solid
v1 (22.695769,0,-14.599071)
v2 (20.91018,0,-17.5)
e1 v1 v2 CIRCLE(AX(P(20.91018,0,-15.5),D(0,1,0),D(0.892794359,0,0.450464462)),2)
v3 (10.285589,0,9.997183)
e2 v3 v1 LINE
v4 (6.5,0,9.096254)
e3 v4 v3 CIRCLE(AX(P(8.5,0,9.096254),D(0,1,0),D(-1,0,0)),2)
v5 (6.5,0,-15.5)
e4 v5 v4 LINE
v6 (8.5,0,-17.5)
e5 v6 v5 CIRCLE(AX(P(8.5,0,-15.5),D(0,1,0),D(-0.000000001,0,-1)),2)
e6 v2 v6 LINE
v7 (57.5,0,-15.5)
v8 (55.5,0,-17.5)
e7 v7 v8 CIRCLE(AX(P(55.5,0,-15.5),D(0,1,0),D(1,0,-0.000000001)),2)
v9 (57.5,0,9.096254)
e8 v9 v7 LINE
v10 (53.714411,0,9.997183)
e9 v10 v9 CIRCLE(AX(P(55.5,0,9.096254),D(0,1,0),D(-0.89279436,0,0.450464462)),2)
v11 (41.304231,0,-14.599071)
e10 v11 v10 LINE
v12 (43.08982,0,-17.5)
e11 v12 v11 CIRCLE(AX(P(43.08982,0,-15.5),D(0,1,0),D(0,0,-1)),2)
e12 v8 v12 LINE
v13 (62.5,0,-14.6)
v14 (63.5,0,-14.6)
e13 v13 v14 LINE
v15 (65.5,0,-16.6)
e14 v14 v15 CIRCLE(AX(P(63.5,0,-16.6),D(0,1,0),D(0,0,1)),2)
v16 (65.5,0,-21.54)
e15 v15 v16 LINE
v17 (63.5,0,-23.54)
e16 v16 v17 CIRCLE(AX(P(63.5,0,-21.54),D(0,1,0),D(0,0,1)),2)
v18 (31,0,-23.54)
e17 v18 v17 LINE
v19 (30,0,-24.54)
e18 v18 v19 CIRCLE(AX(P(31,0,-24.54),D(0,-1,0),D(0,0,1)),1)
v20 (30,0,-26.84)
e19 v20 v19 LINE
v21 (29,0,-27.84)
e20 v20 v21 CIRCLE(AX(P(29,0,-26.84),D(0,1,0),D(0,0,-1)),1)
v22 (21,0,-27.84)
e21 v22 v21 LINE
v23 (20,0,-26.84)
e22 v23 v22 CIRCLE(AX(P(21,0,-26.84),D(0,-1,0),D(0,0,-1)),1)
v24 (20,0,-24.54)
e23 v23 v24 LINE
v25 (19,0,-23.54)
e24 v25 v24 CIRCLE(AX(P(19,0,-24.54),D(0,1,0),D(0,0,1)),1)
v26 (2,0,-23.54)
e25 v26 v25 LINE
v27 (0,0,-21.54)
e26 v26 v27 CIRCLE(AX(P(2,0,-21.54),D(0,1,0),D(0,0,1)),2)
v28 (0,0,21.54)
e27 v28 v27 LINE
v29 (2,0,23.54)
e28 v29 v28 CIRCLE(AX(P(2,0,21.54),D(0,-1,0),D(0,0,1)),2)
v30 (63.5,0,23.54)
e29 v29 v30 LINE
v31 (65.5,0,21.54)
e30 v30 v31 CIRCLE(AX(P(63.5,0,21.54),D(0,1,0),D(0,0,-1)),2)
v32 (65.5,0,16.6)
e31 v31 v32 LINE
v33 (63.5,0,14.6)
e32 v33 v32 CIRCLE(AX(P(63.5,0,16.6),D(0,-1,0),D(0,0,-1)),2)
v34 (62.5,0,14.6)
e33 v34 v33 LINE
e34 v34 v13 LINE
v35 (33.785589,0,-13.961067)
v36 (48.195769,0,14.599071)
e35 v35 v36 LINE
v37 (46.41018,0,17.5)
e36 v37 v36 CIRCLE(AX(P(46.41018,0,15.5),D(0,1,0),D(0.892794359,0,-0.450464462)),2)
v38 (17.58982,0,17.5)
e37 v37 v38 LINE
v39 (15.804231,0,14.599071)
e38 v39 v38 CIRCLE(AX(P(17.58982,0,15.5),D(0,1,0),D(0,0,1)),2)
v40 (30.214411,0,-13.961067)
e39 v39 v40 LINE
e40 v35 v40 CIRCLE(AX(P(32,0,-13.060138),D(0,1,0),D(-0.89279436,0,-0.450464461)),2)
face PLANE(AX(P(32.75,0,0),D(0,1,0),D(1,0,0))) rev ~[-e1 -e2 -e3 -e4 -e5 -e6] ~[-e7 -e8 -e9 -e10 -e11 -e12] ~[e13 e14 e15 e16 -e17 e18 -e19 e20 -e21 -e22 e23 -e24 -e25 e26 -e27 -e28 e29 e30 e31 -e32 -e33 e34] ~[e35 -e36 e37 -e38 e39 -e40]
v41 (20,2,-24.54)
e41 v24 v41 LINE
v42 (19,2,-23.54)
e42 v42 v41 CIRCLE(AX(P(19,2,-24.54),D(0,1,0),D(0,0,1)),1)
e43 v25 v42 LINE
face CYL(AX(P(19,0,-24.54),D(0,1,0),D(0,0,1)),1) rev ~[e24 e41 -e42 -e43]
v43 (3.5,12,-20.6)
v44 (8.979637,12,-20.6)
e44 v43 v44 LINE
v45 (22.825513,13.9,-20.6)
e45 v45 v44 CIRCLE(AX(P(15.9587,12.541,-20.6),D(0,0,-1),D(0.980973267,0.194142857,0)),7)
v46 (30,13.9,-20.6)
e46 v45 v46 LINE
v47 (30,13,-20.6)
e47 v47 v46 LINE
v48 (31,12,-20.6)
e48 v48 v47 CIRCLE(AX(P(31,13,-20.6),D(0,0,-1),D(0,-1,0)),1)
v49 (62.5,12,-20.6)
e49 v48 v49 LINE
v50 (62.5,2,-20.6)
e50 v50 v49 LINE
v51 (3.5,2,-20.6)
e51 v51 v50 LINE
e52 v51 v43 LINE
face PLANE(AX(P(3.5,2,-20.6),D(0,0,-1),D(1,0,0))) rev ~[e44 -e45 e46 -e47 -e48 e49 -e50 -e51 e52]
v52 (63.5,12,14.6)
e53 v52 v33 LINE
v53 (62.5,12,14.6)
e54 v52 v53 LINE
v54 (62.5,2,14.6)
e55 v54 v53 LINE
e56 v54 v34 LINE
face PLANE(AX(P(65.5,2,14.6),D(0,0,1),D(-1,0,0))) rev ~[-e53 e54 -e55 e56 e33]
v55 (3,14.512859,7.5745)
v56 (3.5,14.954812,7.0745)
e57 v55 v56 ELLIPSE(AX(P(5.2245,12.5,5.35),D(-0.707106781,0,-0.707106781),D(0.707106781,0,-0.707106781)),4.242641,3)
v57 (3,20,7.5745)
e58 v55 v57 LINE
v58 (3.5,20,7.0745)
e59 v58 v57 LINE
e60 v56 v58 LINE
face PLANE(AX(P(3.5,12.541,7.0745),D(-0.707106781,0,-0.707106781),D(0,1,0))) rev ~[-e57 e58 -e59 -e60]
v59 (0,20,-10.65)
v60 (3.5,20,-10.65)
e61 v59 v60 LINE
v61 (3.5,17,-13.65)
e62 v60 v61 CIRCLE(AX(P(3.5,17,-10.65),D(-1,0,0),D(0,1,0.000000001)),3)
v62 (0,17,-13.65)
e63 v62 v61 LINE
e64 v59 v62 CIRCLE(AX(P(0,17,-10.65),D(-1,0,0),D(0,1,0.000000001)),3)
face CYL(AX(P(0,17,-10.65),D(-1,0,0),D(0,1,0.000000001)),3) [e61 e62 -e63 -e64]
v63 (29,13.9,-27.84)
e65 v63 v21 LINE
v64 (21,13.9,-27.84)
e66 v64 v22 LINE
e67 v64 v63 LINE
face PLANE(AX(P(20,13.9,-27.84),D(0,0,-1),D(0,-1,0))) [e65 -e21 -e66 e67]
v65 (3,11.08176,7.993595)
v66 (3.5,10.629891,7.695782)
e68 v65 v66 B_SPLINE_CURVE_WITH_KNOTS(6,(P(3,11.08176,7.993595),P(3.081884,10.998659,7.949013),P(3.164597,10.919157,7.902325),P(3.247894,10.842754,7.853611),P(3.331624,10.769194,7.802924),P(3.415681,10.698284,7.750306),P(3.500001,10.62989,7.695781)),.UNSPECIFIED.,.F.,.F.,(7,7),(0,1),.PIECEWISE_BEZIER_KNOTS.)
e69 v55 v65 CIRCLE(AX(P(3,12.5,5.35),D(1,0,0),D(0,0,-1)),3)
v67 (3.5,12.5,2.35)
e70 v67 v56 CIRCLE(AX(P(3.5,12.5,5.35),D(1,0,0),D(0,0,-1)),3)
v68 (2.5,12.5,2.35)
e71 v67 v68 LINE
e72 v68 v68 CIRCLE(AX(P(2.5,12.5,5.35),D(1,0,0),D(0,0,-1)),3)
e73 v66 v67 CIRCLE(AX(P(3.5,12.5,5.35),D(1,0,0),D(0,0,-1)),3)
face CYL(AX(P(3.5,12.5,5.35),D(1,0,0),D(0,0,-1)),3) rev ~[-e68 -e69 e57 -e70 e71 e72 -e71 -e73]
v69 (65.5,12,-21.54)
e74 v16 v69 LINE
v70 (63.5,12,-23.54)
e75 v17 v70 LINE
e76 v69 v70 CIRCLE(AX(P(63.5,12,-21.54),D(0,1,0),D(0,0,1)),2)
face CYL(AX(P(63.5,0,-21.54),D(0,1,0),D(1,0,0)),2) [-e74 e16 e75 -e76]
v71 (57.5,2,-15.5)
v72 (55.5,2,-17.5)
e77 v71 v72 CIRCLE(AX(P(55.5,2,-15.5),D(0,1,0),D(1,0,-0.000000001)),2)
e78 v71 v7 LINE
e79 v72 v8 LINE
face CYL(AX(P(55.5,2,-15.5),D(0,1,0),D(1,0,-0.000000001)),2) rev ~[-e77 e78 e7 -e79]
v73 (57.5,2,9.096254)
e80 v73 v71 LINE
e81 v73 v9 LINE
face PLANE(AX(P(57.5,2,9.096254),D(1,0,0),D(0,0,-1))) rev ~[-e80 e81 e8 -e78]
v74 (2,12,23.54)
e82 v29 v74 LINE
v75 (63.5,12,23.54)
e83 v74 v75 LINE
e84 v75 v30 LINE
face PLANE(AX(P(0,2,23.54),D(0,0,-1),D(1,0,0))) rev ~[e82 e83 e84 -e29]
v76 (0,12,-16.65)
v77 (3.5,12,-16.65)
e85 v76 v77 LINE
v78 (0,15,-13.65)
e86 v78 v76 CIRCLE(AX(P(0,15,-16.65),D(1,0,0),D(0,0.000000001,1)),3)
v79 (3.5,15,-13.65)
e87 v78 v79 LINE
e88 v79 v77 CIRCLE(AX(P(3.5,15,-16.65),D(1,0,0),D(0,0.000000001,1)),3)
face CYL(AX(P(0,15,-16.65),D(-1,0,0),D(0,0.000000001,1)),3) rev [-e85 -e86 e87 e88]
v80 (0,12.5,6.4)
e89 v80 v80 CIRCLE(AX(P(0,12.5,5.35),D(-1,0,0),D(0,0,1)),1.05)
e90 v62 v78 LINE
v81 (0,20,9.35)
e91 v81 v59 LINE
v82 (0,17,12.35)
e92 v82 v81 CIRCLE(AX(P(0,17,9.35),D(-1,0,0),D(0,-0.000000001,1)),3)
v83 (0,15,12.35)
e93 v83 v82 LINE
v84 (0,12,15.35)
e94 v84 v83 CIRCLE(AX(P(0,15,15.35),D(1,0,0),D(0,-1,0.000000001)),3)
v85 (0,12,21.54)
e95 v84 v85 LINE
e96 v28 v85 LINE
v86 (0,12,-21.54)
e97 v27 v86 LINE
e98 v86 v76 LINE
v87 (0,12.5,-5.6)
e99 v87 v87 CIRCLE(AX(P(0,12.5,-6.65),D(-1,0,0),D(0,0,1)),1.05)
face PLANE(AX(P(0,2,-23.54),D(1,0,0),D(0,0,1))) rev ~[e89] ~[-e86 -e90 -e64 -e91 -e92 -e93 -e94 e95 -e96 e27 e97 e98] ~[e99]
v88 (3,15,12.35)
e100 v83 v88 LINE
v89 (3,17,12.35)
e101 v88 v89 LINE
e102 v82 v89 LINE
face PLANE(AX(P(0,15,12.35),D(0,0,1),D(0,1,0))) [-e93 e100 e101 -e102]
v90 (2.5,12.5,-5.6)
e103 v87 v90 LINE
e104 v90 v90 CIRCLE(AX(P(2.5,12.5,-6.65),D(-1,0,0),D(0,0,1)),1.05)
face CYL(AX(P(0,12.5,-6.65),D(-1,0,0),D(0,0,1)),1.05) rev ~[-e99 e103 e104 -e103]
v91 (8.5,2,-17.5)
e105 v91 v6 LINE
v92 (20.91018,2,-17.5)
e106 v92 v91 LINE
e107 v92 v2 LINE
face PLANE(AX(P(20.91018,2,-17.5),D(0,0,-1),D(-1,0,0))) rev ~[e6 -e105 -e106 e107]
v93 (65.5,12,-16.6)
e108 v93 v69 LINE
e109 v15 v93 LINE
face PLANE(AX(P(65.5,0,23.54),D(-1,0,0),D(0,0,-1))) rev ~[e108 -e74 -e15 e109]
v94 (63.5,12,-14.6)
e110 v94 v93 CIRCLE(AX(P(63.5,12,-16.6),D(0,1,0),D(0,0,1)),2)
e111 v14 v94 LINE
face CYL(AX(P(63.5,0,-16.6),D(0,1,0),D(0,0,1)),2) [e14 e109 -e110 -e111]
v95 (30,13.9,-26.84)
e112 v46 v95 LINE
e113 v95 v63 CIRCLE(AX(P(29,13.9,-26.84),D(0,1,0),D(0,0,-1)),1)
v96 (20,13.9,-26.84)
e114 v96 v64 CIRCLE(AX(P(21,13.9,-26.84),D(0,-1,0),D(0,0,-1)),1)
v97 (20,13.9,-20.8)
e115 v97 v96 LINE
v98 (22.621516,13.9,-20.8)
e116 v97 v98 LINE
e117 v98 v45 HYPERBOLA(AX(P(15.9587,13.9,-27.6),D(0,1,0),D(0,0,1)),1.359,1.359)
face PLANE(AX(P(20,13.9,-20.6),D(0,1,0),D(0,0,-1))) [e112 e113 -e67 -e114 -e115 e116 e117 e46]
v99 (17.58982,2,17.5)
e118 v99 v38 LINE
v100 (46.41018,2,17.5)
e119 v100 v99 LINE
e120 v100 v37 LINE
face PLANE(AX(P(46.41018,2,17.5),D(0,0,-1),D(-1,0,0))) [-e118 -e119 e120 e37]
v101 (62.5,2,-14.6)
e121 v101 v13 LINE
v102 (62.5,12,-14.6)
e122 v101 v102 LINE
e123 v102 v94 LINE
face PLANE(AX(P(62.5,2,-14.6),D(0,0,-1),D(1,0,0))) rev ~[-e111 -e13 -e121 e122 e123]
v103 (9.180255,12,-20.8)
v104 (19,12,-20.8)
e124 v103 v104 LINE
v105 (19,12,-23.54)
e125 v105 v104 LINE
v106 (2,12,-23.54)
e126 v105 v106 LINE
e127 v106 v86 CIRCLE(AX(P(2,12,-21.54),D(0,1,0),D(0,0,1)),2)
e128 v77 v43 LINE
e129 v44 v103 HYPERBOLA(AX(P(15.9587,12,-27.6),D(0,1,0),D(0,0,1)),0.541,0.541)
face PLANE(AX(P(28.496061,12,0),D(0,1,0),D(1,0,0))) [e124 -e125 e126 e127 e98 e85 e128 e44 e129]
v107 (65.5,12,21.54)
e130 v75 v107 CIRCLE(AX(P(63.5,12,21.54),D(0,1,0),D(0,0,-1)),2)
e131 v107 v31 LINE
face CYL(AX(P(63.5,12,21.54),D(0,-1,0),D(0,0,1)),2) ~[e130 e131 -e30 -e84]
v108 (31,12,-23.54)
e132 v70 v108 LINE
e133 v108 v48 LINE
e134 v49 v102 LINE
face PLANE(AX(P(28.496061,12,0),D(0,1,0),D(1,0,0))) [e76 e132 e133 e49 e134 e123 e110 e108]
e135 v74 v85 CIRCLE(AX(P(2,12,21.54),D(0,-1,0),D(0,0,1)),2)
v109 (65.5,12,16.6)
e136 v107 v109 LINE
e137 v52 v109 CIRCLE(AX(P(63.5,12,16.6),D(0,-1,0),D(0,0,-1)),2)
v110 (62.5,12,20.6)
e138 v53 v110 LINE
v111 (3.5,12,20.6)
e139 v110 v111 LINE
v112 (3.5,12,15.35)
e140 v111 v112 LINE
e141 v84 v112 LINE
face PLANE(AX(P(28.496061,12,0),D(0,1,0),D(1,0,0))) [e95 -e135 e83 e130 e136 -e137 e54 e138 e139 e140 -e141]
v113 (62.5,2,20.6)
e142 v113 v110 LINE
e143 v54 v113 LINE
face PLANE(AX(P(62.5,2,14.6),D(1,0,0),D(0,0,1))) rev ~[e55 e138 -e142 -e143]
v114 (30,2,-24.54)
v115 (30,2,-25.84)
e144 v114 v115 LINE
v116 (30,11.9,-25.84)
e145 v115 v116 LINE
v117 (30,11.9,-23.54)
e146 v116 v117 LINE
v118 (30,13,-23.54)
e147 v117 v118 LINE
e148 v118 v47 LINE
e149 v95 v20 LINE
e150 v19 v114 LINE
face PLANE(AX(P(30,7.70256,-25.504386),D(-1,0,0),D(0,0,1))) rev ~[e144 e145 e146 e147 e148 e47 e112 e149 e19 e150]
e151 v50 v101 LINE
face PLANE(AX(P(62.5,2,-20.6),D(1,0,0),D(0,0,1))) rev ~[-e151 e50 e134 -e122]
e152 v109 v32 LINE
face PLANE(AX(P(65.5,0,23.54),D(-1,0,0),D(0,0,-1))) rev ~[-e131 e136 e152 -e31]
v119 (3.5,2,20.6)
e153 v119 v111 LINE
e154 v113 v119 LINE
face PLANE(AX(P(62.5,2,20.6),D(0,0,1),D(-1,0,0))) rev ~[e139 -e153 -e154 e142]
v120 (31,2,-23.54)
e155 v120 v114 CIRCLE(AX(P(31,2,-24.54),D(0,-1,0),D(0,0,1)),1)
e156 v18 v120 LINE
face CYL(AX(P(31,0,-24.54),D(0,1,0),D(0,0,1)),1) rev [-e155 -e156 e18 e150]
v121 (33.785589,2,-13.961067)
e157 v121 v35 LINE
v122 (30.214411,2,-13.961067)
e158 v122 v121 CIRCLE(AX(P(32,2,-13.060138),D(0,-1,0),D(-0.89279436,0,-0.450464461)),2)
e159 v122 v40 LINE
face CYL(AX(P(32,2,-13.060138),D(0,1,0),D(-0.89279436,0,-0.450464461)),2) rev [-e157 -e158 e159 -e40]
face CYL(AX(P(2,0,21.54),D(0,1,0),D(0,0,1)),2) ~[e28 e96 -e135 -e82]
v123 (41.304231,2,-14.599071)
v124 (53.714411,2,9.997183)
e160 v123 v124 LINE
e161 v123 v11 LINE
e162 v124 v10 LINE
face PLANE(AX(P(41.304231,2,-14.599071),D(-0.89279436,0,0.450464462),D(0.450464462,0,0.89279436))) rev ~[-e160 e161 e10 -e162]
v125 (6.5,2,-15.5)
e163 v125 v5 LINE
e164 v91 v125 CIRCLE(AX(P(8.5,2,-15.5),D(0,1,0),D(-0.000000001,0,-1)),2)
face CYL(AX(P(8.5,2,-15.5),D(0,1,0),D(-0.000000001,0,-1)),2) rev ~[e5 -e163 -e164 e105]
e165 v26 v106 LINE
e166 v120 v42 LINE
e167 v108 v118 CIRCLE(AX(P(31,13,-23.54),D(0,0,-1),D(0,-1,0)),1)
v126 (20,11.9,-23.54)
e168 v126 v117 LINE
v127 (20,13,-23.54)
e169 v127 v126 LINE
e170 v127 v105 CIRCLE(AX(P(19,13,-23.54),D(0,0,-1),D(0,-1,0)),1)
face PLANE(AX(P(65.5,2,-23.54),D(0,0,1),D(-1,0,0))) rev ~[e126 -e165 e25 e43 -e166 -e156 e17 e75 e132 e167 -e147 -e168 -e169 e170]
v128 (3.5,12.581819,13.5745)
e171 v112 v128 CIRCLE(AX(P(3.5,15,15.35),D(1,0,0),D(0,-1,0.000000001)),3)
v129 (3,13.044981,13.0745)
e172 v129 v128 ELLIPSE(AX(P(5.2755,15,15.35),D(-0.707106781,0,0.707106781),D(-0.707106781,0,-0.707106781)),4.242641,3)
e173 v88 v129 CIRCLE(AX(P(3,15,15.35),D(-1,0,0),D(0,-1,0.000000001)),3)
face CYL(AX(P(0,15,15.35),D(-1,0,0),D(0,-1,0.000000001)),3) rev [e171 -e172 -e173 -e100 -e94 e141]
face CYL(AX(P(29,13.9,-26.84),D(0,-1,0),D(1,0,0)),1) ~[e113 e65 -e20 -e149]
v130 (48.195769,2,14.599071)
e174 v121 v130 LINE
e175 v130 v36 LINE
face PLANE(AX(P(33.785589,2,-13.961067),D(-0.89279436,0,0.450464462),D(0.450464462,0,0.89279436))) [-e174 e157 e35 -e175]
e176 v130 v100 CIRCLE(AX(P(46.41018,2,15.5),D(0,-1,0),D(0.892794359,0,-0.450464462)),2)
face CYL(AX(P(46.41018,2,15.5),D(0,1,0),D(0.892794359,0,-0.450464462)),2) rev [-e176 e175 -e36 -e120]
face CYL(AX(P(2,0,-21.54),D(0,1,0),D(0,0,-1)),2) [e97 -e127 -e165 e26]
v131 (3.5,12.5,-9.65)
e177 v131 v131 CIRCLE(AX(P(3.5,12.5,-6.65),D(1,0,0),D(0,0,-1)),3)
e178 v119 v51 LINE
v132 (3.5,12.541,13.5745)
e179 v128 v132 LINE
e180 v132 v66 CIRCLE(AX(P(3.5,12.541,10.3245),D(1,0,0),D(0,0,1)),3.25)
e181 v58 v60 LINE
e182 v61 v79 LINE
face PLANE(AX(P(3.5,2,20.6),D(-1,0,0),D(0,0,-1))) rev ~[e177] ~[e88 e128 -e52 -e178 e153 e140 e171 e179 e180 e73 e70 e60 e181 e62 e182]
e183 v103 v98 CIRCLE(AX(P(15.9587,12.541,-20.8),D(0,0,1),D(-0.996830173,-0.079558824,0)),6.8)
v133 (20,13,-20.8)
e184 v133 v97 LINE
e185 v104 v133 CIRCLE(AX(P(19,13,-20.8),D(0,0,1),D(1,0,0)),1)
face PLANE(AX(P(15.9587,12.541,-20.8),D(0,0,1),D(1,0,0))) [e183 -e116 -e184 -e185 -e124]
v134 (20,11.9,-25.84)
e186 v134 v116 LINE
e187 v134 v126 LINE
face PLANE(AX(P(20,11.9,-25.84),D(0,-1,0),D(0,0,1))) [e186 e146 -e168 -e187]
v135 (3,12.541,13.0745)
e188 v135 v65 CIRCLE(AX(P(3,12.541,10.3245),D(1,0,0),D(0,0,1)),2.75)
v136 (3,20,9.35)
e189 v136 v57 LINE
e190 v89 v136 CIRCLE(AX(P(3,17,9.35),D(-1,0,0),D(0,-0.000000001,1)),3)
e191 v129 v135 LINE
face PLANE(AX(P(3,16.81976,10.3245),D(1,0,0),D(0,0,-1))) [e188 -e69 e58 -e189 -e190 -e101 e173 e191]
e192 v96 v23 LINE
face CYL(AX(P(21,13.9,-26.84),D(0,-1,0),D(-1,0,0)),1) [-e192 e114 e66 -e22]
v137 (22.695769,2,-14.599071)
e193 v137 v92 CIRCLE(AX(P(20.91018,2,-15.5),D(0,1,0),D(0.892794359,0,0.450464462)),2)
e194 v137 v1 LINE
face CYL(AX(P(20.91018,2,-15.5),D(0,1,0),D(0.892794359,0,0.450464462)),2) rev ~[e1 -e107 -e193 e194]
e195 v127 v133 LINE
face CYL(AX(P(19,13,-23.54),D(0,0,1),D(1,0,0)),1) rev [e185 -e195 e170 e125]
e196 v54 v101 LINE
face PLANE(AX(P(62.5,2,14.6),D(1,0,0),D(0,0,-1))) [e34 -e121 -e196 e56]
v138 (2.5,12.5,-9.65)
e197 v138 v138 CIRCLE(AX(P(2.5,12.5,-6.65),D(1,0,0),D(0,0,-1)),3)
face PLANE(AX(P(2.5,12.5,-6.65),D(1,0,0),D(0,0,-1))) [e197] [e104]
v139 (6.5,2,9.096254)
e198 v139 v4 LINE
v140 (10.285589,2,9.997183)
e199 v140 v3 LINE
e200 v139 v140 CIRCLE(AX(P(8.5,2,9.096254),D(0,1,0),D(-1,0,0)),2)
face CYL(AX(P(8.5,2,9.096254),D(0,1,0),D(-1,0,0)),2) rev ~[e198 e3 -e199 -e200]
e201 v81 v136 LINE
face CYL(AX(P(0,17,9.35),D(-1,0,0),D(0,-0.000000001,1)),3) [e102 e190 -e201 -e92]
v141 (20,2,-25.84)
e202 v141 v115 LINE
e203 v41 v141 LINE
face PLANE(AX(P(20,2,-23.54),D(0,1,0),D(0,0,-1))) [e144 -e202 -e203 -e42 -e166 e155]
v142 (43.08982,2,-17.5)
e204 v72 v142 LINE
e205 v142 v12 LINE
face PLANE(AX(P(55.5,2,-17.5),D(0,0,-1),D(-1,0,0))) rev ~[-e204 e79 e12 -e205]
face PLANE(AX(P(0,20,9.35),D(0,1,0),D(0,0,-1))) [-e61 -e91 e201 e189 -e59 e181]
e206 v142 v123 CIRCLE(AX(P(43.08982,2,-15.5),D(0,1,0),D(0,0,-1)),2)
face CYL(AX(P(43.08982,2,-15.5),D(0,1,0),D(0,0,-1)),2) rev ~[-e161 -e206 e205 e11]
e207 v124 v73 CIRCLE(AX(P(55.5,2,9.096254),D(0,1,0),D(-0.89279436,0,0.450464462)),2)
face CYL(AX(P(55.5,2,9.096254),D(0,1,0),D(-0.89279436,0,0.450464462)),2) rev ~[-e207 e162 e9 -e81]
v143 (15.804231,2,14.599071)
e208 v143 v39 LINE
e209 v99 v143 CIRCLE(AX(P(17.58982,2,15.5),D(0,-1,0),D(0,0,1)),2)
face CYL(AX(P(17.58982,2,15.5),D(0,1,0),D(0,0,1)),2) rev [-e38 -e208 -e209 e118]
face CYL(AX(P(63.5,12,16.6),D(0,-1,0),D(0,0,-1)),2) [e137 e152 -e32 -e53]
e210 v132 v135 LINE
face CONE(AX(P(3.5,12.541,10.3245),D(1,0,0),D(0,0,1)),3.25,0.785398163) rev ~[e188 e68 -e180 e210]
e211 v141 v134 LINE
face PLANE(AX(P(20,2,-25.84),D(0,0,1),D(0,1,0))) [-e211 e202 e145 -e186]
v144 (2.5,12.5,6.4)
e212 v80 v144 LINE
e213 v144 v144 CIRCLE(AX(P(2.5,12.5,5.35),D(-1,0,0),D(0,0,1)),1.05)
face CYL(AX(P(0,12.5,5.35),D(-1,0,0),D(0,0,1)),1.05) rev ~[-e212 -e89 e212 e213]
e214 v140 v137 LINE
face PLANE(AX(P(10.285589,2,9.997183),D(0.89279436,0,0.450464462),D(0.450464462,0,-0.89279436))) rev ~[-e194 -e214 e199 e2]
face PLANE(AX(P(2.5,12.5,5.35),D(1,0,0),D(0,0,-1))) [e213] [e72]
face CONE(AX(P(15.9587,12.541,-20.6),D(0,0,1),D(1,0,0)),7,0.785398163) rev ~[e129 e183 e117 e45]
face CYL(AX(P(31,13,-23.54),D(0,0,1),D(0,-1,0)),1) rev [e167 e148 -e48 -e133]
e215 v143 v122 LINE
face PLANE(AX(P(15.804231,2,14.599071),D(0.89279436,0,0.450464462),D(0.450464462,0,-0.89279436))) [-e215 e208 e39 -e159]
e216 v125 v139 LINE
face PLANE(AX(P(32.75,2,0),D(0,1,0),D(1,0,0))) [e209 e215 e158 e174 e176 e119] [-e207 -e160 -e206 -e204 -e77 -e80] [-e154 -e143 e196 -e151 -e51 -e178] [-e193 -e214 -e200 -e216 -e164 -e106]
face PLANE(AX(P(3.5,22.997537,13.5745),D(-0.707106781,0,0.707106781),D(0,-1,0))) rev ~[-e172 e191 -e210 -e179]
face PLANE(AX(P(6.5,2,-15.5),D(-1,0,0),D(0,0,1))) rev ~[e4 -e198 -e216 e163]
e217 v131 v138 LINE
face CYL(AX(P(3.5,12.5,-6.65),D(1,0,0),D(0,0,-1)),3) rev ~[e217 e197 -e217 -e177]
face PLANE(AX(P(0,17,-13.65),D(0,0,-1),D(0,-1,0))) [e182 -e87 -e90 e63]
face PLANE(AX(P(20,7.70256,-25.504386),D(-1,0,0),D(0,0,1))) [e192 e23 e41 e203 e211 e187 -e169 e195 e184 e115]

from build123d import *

# Parameters (mm, degrees)
SKETCH1_W           = 65.5
SKETCH1_H           = 47.08
BOSS_EXTRUDE1_DEPTH = 2
BOSS_EXTRUDE2_DEPTH = 10
BOSS_EXTRUDE3_DEPTH = 3.5
SKETCH4_R           = 1.05
CUT_EXTRUDE1_DEPTH  = 73.418102709
CUT_EXTRUDE3_DEPTH  = 72.891457072
CUT_EXTRUDE8_DEPTH  = 0.5
CUT_EXTRUDE8_DRAFT  = -45
SKETCH25_W          = 3
SKETCH25_H          = 29.2
CUT_EXTRUDE10_DEPTH = 72.891457072
FILLET1_R           = 2
BOSS_EXTRUDE4_DEPTH = 10
FILLET2_R           = 1
SKETCH27_R          = 3
CUT_EXTRUDE11_DEPTH = 1
FILLET4_R           = 1
SKETCH24_R          = 7
CUT_EXTRUDE9_DEPTH  = 0.2
CUT_EXTRUDE9_DRAFT  = -45


with BuildPart() as part:
    # Sketch1 → Boss-Extrude1 (new body)
    with BuildSketch(Plane(origin=(0, 0, 0), x_dir=(1, 0, 0), z_dir=(0, 1, 0))):
        with Locations((32.75, 0)):
            Rectangle(SKETCH1_W, SKETCH1_H)
    extrude(amount=BOSS_EXTRUDE1_DEPTH)

    # Sketch2 → Boss-Extrude2 (add)
    with BuildSketch(Plane(origin=(0, 2, 0), x_dir=(1, 0, 0), z_dir=(0, 1, 0))):
        Polygon((3.5, 20.6), (62.5, 20.6), (62.5, 14.6), (65.5, 14.6), (65.5, 23.54), (0, 23.54), (0, -23.54), (65.5, -23.54), (65.5, -14.6), (62.5, -14.6), (62.5, -20.6), (3.5, -20.6), align=None)
    extrude(amount=BOSS_EXTRUDE2_DEPTH)

    # Sketch3 → Boss-Extrude3 (add)
    with BuildSketch(Plane.ZY):
        with BuildLine():
            Line((-16.65, 12), (-0.65, 12))
            Line((-0.65, 12), (-0.65, 20))
            Line((-0.65, 20), (-10.65, 20))
            ThreePointArc((-10.65, 20), (-12.771320344, 19.121320344), (-13.65, 17))
            Line((-13.65, 17), (-13.65, 15))
            ThreePointArc((-13.65, 15), (-14.528679656, 12.878679656), (-16.65, 12))
        make_face()
        with BuildLine():
            Line((-0.65, 20), (-0.65, 12))
            Line((-0.65, 12), (15.35, 12))
            ThreePointArc((15.35, 12), (13.228679656, 12.878679656), (12.35, 15))
            Line((12.35, 15), (12.35, 17))
            ThreePointArc((12.35, 17), (11.471320344, 19.121320344), (9.35, 20))
            Line((9.35, 20), (-0.65, 20))
        make_face()
    extrude(amount=-BOSS_EXTRUDE3_DEPTH)

    # Sketch4 → Cut-Extrude1 (cut, through all)
    with BuildSketch(Plane.ZY):
        with Locations((-6.65, 12.5)):
            Circle(SKETCH4_R)
        with Locations((5.35, 12.5)):
            Circle(SKETCH4_R)
    extrude(amount=-CUT_EXTRUDE1_DEPTH, mode=Mode.SUBTRACT)

    # Sketch6 → Cut-Extrude3 (cut, through all)
    with BuildSketch(Plane(origin=(0, 2, 0), x_dir=(1, 0, 0), z_dir=(0, 1, 0))):
        with BuildLine():
            Line((6.5, 15.5), (6.5, -9.096254447))
            ThreePointArc((6.5, -9.096254447), (8.036954343, -11.041913389), (10.285588719, -9.997183371))
            Line((10.285588719, -9.997183371), (22.695768518, 14.599071076))
            ThreePointArc((22.695768518, 14.599071076), (22.613391155, 16.548365908), (20.910179799, 17.5))
            Line((20.910179799, 17.5), (8.5, 17.5))
            ThreePointArc((8.5, 17.5), (7.085786438, 16.914213562), (6.5, 15.5))
        make_face()
        with BuildLine():
            Line((15.804231482, -14.599071076), (30.214411281, 13.961067028))
            ThreePointArc((30.214411281, 13.961067028), (32, 15.060138105), (33.785588719, 13.961067028))
            Line((33.785588719, 13.961067028), (48.195768518, -14.599071076))
            ThreePointArc((48.195768518, -14.599071076), (48.113391155, -16.548365908), (46.410179799, -17.5))
            Line((46.410179799, -17.5), (17.589820201, -17.5))
            ThreePointArc((17.589820201, -17.5), (15.886608845, -16.548365908), (15.804231482, -14.599071076))
        make_face()
        with BuildLine():
            Line((57.5, -9.096254447), (57.5, 15.5))
            ThreePointArc((57.5, 15.5), (56.914213562, 16.914213562), (55.5, 17.5))
            Line((55.5, 17.5), (43.089820201, 17.5))
            ThreePointArc((43.089820201, 17.5), (41.386608845, 16.548365908), (41.304231482, 14.599071076))
            Line((41.304231482, 14.599071076), (53.714411281, -9.997183371))
            ThreePointArc((53.714411281, -9.997183371), (55.963045657, -11.041913389), (57.5, -9.096254447))
        make_face()
    extrude(amount=-CUT_EXTRUDE3_DEPTH, mode=Mode.SUBTRACT)


with BuildPart() as cut_extrude8_tool:
    # Sketch23 → Cut-Extrude8 (with draft: the straight prism first)
    with BuildSketch(Plane(origin=(3.5, 0, 0), x_dir=(0, 0, -1), z_dir=(1, 0, 0))):
        with BuildLine():
            ThreePointArc((-13.5745, 12.541), (-10.3245, 9.291), (-7.0745, 12.541))
            Line((-7.0745, 12.541), (-7.0745, 22.997537045))
            Line((-7.0745, 22.997537045), (-13.5745, 22.997537045))
            Line((-13.5745, 22.997537045), (-13.5745, 12.541))
        make_face()
    extrude(amount=-CUT_EXTRUDE8_DEPTH)
    # Cut-Extrude8: the draft: its side faces are tilted about the plane it starts from
    cut_extrude8_sides = [cut_extrude8_tool.faces().sort_by_distance(p)[0] for p in [
        (3.25, 17.769268522, 7.0745),
        (3.25, 22.997537045, 10.3245),
        (3.25, 17.769268522, 13.5745),
        (3.25, 9.291, 10.3245),
    ]]
    draft(cut_extrude8_sides, Plane(origin=(3.5, 0, 0), x_dir=(0, 0, -1), z_dir=(1, 0, 0)), CUT_EXTRUDE8_DRAFT)


with BuildPart() as part_1:
    add(part.part)

    # Cut-Extrude8: cut by cut_extrude8_tool
    add(cut_extrude8_tool.part, mode=Mode.SUBTRACT)

    # Sketch25 → Cut-Extrude10 (cut, through all)
    with BuildSketch(Plane(origin=(0, 2, 0), x_dir=(1, 0, 0), z_dir=(0, 1, 0))):
        with Locations((64, 0)):
            Rectangle(SKETCH25_W, SKETCH25_H)
    extrude(amount=-CUT_EXTRUDE10_DEPTH, mode=Mode.SUBTRACT)

    # Fillet1
    fillet1_edges = [part_1.edges().sort_by_distance(p)[0] for p in [
        (65.5, 6, 14.6),
        (65.5, 6, -14.6),
        (65.5, 6, -23.54),
        (65.5, 6, 23.54),
        (0, 6, 23.54),
        (0, 6, -23.54),
    ]]
    fillet(fillet1_edges, radius=FILLET1_R)

    # Sketch26 → Boss-Extrude4 (add)
    with BuildSketch(Plane.ZY.offset(-20)):
        Polygon((-27.84, 0), (-23.54, 0), (-23.54, 2), (-25.84, 2), (-25.84, 11.9), (-23.54, 11.9), (-23.54, 12), (-20.6, 12), (-20.6, 13.9), (-27.84, 13.9), (-27.84, 12), align=None)
    extrude(amount=-BOSS_EXTRUDE4_DEPTH)

    # Fillet2
    fillet2_edges = [part_1.edges().sort_by_distance(p)[0] for p in [
        (20, 6.95, -27.84),
        (30, 1, -23.54),
        (30, 6.95, -27.84),
        (20, 1, -23.54),
    ]]
    fillet(fillet2_edges, radius=FILLET2_R)

    # Sketch27 → Cut-Extrude11 (cut)
    with BuildSketch(Plane(origin=(3.5, 0, 0), x_dir=(0, 0, -1), z_dir=(1, 0, 0))):
        with Locations((-5.35, 12.5)):
            Circle(SKETCH27_R)
        with Locations((6.65, 12.5)):
            Circle(SKETCH27_R)
    extrude(amount=-CUT_EXTRUDE11_DEPTH, mode=Mode.SUBTRACT)

    # Fillet4
    fillet4_edges = [part_1.edges().sort_by_distance(p)[0] for p in [
        (20, 12, -22.07),
        (30, 12, -22.07),
    ]]
    fillet(fillet4_edges, radius=FILLET4_R)


with BuildPart() as cut_extrude9_tool:
    # Sketch24 → Cut-Extrude9 (with draft: the straight prism first)
    with BuildSketch(Plane.XY.offset(-20.6)):
        with Locations((15.9587, 12.541)):
            Circle(SKETCH24_R)
    extrude(amount=-CUT_EXTRUDE9_DEPTH)
    # Cut-Extrude9: the draft: its side faces are tilted about the plane it starts from
    cut_extrude9_sides = [cut_extrude9_tool.faces().sort_by_distance(p)[0] for p in [
        (8.9587, 12.541, -20.7),
    ]]
    draft(cut_extrude9_sides, Plane.XY.offset(-20.6), CUT_EXTRUDE9_DRAFT)


with BuildPart() as part_2:
    add(part_1.part)

    # Cut-Extrude9: cut by cut_extrude9_tool
    add(cut_extrude9_tool.part, mode=Mode.SUBTRACT)


solid = part_2.part
